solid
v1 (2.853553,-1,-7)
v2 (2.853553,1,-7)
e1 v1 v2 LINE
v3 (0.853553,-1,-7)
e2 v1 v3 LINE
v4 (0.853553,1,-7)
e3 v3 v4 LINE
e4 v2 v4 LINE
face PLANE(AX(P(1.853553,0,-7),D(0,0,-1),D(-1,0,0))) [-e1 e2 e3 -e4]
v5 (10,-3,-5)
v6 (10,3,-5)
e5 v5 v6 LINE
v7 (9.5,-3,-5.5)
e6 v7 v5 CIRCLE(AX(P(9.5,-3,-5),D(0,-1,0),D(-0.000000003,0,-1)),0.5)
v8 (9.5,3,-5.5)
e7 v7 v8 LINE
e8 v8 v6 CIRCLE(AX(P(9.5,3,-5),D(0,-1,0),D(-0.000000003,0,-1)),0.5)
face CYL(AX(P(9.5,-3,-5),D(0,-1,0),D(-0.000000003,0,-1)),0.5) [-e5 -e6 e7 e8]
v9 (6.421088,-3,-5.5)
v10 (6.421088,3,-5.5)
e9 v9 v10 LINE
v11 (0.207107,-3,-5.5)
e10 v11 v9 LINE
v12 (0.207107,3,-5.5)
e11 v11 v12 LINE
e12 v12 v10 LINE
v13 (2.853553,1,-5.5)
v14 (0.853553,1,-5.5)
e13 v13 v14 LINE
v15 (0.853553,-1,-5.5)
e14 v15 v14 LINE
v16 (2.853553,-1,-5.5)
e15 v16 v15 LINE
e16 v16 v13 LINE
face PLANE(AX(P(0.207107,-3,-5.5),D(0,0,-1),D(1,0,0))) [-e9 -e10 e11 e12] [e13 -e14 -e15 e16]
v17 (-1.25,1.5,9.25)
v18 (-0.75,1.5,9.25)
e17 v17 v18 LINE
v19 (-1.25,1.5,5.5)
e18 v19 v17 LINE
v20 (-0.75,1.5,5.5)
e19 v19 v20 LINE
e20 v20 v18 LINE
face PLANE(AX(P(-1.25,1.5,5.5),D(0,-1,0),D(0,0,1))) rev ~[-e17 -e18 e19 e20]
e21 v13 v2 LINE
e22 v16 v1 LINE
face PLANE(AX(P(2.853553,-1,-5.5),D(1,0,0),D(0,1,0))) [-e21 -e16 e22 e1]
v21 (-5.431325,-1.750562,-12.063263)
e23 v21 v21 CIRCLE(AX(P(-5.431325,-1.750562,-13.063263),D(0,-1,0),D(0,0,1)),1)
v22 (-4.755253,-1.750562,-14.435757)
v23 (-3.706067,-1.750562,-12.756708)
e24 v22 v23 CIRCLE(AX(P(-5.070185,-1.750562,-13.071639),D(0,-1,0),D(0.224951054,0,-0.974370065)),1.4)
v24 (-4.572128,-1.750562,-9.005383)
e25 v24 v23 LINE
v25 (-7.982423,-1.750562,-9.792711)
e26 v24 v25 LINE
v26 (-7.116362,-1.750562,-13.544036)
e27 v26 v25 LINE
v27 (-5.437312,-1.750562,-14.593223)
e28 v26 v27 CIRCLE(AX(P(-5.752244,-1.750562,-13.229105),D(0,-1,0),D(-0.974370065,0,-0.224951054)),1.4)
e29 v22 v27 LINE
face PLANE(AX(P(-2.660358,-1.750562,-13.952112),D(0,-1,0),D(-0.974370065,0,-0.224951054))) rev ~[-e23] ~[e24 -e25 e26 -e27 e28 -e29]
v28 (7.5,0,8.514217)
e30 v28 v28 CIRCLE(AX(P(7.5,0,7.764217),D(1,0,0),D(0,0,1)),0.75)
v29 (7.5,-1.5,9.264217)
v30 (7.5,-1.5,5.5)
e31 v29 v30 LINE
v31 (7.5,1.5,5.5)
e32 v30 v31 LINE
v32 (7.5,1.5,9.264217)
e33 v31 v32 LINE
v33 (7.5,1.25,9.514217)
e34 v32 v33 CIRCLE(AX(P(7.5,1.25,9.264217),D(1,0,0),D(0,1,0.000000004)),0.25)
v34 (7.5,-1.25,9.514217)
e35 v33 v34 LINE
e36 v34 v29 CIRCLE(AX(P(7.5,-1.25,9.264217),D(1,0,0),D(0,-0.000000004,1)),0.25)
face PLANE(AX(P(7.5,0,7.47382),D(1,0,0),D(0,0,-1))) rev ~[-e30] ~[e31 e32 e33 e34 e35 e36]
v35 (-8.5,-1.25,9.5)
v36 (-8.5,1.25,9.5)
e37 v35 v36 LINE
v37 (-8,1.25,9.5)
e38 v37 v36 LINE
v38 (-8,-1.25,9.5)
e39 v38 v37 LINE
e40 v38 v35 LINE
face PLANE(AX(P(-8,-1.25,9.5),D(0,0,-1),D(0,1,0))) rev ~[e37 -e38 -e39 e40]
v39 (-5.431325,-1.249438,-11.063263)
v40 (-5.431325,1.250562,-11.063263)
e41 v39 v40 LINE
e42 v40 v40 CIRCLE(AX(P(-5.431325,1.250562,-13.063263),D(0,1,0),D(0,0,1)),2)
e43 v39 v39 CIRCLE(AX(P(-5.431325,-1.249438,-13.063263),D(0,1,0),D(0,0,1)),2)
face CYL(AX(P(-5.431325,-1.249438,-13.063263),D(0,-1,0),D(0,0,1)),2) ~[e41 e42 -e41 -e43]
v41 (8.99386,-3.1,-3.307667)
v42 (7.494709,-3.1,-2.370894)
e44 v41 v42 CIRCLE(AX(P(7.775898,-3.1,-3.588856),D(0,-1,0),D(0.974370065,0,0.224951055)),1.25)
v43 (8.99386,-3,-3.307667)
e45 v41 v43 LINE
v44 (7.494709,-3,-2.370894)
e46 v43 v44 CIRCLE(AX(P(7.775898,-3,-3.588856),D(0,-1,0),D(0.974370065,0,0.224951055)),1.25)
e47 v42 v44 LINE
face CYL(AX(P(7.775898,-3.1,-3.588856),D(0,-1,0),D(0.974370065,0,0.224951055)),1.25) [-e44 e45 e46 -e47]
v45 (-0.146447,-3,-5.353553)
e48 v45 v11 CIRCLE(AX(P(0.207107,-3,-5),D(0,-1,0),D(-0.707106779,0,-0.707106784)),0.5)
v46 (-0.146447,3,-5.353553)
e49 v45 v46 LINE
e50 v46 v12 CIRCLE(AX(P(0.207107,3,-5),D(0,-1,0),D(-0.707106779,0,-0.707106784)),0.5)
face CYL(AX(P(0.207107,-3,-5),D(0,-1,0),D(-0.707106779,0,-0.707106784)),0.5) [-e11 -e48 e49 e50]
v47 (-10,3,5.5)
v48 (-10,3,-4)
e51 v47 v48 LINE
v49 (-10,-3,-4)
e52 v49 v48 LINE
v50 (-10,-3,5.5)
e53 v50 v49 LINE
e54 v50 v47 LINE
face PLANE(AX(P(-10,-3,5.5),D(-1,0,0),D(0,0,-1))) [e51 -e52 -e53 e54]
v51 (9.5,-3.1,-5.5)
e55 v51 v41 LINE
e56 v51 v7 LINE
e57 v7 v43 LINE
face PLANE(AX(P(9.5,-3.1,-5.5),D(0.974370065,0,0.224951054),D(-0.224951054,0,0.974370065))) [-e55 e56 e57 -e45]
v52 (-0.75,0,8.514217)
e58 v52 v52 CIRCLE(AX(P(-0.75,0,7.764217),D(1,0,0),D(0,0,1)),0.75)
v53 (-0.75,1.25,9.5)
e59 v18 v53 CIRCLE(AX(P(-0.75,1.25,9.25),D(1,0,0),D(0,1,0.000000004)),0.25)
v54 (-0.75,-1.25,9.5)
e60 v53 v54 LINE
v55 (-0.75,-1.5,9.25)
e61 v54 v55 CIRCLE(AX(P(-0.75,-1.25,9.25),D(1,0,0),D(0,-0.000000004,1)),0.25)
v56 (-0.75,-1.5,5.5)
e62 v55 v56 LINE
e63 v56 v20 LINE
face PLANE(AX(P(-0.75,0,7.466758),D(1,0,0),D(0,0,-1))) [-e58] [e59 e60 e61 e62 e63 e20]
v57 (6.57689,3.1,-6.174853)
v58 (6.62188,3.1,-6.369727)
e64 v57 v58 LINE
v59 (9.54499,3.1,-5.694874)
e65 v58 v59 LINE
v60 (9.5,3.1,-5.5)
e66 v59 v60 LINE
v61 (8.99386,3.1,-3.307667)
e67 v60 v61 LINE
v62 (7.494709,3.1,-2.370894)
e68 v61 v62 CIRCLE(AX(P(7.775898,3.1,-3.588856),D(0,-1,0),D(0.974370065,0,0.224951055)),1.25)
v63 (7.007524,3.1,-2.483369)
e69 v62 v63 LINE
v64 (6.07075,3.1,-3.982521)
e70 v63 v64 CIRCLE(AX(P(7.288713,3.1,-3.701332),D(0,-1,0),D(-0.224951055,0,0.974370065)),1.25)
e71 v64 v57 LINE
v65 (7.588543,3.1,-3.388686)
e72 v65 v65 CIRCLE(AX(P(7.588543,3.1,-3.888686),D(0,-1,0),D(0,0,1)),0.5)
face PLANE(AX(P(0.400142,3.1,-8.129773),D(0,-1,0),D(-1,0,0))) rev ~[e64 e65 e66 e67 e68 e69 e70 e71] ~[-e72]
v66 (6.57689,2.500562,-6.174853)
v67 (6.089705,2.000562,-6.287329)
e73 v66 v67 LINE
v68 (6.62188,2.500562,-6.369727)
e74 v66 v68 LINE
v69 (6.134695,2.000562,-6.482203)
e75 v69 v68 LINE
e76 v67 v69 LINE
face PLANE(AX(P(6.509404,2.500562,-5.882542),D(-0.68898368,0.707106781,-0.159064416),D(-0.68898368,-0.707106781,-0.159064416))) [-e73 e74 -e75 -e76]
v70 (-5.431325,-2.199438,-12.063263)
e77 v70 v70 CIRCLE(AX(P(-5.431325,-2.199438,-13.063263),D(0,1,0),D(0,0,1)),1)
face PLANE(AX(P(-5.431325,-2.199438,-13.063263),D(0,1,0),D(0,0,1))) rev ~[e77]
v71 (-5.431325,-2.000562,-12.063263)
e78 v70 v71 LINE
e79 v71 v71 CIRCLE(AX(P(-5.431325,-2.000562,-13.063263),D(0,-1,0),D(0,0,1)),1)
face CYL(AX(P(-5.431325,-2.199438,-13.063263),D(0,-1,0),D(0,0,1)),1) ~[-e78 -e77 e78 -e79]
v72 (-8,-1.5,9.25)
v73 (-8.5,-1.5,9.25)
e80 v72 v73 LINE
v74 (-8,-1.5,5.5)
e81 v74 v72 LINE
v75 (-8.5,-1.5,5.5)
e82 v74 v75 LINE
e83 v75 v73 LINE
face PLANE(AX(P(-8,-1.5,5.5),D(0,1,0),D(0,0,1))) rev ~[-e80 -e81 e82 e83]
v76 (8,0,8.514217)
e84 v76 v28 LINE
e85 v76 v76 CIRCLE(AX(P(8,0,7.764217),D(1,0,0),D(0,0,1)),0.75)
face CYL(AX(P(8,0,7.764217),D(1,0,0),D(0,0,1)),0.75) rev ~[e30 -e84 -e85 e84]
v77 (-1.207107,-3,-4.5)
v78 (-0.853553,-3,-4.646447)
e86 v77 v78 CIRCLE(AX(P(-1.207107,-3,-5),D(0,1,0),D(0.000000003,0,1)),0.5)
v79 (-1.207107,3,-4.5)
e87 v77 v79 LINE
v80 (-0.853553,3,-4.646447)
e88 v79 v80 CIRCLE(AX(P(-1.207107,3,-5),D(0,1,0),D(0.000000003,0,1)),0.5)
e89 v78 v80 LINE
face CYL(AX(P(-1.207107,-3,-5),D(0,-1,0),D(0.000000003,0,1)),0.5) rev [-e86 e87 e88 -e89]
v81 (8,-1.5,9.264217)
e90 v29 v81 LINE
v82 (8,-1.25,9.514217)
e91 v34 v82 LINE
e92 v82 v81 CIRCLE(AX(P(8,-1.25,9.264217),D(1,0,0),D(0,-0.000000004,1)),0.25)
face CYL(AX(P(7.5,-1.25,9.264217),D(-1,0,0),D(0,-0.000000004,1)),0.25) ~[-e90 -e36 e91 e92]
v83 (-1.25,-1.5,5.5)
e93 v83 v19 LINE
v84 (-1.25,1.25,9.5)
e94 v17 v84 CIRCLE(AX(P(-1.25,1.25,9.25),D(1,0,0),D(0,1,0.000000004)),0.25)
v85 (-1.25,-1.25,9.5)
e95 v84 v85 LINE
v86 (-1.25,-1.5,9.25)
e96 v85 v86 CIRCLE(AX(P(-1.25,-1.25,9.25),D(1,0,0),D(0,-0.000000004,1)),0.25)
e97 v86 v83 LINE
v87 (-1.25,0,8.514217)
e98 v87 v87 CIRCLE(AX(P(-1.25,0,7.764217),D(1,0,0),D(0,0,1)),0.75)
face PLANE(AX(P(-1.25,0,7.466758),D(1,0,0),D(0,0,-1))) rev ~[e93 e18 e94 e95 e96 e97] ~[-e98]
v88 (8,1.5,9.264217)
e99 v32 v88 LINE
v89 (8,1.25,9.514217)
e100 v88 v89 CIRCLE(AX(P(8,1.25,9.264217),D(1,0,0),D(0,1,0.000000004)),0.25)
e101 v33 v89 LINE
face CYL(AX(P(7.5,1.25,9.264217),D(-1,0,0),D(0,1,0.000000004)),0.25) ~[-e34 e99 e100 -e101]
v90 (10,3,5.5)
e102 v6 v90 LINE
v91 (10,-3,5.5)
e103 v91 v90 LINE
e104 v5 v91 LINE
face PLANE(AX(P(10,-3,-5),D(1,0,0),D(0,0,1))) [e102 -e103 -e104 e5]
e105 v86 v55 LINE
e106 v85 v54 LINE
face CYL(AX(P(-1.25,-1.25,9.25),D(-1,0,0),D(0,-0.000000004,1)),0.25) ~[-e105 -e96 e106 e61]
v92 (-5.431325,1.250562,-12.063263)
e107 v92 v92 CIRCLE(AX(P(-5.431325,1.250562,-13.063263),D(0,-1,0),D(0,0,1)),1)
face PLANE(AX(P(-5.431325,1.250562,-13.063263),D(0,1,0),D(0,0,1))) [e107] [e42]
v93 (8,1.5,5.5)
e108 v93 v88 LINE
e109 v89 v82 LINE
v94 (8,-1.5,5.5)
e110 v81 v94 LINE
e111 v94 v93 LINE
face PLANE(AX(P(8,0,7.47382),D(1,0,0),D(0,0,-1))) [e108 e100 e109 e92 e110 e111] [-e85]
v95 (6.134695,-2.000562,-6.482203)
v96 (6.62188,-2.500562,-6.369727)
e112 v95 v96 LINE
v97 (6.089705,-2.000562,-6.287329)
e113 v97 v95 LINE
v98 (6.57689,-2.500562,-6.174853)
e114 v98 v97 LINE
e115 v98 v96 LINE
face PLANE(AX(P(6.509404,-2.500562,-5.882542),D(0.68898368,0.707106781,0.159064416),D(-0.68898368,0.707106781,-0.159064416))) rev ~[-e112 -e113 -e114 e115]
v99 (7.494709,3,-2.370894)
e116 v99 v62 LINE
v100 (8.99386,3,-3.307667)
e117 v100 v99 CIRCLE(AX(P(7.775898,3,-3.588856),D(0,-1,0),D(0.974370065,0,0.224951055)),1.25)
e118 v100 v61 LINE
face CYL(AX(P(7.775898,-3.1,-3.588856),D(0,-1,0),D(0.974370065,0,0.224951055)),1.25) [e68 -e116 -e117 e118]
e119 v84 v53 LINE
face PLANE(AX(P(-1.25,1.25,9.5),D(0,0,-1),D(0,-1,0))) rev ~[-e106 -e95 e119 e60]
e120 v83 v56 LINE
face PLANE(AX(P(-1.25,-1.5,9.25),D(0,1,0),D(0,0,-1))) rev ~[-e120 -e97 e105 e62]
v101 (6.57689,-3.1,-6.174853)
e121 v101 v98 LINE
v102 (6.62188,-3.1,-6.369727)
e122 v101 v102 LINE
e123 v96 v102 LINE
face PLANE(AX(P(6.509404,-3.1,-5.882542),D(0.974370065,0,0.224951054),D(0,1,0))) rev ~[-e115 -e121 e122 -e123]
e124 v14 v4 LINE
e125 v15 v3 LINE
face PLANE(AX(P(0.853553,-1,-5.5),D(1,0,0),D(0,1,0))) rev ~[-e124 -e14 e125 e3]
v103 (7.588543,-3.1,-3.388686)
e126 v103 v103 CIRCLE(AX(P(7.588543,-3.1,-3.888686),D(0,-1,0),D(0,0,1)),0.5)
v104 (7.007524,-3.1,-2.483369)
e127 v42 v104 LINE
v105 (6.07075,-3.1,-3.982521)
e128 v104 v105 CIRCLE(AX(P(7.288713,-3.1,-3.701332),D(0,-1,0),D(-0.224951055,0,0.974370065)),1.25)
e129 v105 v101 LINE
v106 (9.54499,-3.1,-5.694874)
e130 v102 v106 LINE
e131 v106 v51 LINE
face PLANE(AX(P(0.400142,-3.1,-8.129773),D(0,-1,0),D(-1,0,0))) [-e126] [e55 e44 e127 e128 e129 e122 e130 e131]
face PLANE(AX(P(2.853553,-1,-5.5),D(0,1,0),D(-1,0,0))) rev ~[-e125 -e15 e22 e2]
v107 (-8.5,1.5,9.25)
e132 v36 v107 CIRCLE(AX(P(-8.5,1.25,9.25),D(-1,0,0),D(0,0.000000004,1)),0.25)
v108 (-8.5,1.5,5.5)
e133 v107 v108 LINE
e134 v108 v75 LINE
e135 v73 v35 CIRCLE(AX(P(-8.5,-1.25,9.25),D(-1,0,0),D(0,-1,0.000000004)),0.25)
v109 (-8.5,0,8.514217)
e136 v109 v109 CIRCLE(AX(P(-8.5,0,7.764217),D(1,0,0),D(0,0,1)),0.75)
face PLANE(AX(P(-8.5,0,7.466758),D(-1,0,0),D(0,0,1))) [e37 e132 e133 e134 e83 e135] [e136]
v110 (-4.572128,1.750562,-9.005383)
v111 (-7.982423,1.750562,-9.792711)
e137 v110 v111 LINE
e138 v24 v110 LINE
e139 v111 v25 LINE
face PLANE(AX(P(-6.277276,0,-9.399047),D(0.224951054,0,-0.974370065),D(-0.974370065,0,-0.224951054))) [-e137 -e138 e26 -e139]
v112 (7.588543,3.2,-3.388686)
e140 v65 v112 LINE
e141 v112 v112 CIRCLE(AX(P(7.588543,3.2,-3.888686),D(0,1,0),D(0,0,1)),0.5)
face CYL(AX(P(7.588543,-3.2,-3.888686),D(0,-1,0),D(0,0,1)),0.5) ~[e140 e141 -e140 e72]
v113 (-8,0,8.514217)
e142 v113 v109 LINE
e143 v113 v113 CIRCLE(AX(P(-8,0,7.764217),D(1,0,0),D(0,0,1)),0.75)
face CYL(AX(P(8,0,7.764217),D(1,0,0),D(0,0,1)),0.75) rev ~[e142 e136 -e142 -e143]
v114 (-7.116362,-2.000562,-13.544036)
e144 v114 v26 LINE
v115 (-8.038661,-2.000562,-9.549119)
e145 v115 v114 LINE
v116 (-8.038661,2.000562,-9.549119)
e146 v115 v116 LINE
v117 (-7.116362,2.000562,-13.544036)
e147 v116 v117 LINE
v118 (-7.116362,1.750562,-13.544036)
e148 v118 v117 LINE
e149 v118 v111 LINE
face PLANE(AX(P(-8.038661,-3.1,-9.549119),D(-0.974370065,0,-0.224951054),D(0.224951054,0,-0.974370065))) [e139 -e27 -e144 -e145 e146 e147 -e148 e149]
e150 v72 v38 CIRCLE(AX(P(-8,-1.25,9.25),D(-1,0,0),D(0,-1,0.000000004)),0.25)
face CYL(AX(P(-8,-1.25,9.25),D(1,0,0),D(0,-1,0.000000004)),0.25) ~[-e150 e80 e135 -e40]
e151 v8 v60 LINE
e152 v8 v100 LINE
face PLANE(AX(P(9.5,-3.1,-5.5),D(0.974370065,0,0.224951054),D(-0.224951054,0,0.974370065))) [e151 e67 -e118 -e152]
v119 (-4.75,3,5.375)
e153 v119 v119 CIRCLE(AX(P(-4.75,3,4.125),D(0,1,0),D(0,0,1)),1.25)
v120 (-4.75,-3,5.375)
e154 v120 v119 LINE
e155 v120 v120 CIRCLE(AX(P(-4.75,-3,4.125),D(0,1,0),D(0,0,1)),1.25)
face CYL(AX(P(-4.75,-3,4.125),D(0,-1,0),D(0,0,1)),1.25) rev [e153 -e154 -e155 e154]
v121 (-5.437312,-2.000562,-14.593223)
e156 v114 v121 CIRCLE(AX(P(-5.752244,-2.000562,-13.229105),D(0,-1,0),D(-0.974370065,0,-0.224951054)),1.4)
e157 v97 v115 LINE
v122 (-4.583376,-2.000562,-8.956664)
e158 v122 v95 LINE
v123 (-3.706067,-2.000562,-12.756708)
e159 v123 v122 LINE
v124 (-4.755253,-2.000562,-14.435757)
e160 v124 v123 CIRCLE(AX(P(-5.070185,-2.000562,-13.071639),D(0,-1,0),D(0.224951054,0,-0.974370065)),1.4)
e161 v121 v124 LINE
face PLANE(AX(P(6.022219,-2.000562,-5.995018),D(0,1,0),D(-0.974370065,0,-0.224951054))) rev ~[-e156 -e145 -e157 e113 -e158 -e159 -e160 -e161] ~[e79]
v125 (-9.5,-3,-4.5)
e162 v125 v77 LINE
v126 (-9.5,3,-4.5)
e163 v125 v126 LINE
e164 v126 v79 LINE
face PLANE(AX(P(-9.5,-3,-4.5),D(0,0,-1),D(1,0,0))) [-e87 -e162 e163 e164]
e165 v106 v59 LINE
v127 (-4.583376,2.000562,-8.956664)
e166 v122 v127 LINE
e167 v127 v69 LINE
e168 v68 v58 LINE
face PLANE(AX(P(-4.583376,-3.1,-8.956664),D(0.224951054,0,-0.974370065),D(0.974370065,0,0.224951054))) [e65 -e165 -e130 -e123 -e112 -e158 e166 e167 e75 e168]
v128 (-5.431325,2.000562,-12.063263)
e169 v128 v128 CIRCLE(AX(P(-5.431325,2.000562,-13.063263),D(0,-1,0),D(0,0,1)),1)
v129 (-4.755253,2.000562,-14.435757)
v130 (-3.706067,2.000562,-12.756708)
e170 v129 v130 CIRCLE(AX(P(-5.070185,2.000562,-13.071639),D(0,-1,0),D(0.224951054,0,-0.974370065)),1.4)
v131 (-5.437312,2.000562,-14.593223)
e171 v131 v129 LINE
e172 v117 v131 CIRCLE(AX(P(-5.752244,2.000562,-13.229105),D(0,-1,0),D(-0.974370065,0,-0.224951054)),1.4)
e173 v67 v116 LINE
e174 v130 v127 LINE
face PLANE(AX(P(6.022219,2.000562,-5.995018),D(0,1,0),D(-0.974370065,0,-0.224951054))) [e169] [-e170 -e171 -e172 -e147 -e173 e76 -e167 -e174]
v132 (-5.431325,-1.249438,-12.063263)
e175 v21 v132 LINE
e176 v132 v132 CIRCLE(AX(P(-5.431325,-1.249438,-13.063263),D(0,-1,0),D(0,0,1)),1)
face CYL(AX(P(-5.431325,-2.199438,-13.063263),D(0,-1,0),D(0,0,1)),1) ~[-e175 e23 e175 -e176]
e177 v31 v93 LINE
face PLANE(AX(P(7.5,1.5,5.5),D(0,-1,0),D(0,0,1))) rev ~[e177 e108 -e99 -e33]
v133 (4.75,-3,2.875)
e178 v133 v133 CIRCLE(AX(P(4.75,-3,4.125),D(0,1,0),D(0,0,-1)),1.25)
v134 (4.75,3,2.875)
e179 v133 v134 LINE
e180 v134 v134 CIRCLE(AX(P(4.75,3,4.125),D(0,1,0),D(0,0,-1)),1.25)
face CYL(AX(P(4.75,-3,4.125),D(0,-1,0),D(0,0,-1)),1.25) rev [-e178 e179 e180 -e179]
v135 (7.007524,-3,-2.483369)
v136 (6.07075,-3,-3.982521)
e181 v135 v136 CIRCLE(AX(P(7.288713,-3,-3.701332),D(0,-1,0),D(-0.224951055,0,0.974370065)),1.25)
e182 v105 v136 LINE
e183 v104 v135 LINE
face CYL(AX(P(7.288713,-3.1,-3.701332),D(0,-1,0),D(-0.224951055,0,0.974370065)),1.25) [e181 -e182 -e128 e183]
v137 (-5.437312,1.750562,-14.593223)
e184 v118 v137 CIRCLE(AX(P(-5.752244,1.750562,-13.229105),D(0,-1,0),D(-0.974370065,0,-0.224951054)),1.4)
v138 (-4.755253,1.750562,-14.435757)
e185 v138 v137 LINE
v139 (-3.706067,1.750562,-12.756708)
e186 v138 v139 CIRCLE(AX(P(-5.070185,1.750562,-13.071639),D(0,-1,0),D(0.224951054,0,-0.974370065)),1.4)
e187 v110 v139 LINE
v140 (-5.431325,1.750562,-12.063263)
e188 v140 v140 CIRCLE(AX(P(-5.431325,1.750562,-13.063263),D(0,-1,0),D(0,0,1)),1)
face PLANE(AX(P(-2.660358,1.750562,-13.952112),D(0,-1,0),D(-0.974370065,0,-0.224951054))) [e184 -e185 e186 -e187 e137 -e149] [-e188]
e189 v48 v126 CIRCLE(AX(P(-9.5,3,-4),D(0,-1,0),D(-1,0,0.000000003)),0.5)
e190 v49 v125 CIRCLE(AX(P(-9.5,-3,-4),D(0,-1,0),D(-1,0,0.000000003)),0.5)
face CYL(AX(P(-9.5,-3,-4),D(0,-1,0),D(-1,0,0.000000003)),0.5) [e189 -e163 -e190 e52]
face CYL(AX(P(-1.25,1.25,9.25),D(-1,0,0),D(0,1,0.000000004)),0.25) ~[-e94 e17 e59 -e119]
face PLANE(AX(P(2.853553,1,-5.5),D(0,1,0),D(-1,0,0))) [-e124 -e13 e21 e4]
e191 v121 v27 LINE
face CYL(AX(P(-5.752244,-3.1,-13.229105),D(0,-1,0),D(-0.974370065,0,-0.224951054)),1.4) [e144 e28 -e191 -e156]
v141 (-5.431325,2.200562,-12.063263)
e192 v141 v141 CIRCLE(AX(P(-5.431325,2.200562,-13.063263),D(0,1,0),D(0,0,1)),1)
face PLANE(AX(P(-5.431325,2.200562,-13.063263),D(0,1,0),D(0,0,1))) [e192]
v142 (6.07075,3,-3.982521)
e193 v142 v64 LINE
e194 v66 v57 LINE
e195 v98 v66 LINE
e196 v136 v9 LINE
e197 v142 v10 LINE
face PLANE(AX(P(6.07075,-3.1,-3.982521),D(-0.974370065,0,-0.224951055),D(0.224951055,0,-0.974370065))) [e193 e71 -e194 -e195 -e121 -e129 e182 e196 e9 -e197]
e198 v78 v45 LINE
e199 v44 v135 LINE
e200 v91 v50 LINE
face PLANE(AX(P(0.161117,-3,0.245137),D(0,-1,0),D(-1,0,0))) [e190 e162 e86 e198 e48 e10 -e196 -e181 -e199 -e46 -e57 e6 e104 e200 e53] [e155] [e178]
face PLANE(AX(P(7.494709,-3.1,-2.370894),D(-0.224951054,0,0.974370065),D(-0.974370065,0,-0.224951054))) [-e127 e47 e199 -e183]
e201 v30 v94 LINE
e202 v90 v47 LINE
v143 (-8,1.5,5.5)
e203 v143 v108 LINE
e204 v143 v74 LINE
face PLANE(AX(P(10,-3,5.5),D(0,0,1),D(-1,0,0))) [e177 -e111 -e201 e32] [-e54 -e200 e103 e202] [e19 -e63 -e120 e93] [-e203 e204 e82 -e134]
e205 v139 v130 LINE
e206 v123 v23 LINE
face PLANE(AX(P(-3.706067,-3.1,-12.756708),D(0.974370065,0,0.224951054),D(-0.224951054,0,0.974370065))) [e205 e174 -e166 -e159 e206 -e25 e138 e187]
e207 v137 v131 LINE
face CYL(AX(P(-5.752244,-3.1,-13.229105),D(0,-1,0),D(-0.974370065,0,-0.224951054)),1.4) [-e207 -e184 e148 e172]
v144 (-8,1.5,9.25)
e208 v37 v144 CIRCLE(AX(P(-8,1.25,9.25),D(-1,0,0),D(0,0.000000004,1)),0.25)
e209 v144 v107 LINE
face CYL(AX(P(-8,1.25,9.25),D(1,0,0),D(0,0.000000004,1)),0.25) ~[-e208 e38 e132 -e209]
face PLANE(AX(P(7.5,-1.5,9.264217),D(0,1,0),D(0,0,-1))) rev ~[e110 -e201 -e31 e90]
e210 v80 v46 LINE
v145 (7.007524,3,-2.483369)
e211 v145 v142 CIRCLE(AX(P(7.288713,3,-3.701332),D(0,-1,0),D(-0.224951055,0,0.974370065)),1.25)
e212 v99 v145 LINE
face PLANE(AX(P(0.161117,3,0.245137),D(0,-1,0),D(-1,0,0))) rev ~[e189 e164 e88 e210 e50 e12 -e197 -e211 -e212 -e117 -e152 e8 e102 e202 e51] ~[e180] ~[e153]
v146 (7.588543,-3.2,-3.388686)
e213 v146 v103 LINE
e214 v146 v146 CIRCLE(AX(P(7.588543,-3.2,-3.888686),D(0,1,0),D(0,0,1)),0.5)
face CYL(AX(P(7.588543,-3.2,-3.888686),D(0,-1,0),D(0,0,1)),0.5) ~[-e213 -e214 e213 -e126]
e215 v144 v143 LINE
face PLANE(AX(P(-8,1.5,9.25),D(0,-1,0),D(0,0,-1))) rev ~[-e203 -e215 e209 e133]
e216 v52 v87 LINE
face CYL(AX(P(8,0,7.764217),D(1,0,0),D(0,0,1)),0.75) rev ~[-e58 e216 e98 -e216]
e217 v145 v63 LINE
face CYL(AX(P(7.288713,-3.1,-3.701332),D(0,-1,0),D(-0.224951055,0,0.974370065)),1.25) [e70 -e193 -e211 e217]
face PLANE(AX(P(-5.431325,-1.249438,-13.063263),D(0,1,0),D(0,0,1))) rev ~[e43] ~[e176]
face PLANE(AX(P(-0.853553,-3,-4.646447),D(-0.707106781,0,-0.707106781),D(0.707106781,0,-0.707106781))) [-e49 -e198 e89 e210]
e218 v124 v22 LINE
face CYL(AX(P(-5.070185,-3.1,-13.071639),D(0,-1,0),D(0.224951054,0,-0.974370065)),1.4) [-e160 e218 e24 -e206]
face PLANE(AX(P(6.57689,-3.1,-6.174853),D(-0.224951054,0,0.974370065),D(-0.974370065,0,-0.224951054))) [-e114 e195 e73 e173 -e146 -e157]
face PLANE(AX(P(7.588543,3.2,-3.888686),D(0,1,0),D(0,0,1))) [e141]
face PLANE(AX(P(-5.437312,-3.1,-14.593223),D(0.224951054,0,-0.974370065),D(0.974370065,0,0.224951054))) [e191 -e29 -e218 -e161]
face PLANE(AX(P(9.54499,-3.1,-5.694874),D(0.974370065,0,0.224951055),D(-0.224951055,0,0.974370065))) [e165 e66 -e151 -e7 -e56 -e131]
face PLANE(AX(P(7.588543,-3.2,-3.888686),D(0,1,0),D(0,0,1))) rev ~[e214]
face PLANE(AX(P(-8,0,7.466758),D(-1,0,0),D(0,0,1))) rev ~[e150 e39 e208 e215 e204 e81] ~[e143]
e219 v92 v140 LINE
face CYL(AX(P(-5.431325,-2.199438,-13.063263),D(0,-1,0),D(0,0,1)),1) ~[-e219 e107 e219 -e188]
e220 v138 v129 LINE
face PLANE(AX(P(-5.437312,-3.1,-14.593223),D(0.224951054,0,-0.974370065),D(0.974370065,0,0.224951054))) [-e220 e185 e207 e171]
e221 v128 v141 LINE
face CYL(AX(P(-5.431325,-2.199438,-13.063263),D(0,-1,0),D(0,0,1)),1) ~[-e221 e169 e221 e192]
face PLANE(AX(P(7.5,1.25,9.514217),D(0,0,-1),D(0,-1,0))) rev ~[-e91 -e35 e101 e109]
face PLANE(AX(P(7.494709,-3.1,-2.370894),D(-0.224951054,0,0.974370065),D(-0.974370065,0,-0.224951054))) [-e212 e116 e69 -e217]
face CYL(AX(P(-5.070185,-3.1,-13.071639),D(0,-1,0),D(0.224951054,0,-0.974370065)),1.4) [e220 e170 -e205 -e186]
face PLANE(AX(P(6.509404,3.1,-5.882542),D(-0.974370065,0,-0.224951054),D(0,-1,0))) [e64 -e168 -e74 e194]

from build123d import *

# Parameters (mm, degrees)
Y_KSEKLIK_EKSTR_ZYON1_DEPTH       = 3
Y_KSEKLIK_EKSTR_ZYON1_DEPTH_BACK  = 3
IZIM1_R                           = 1.25
IZIM2_W                           = 2
IZIM2_H                           = 2
Y_KSEKLIK_EKSTR_ZYON2_DEPTH       = 1.5
Y_KSEKLIK_EKSTR_ZYON6_DEPTH       = 3.1
Y_KSEKLIK_EKSTR_ZYON6_DEPTH_BACK  = 3.1
KES_EKSTR_ZYON1_DEPTH             = 6
KES_EKSTR_ZYON1_DEPTH_BACK        = 0.5
IZIM5_W                           = 5
IZIM5_H                           = 3.50112481
KES_EKSTR_ZYON2_DEPTH             = 5.25
Y_KSEKLIK_EKSTR_ZYON7_DEPTH       = 1.25
Y_KSEKLIK_EKSTR_ZYON7_DEPTH_BACK  = 1.25
IZIM6_R                           = 2
Y_KSEKLIK_EKSTR_ZYON8_DEPTH       = 2.2
Y_KSEKLIK_EKSTR_ZYON8_DEPTH_BACK  = 2.2
IZIM7_R                           = 1
Y_KSEKLIK_EKSTR_ZYON9_DEPTH       = 0.25
Y_KSEKLIK_EKSTR_ZYON9_DEPTH_BACK  = 0.25
Y_KSEKLIK_EKSTR_ZYON10_DEPTH      = 0.25
Y_KSEKLIK_EKSTR_ZYON10_DEPTH_BACK = 0.25
Y_KSEKLIK_EKSTR_ZYON11_DEPTH      = 0.25
Y_KSEKLIK_EKSTR_ZYON11_DEPTH_BACK = 0.25
KES_EKSTR_ZYON3_REACH             = 25.675
IZIM11_R                          = 0.75
Y_KSEKLIK_EKSTR_ZYON13_DEPTH      = 3.2
Y_KSEKLIK_EKSTR_ZYON13_DEPTH_BACK = 3.2
IZIM13_R                          = 0.5


with BuildPart() as part:
    # Çizim1 → Yükseklik-Ekstrüzyon1 (new, two sides: drawn at the far end of the back side and taken through both)
    with BuildSketch(Plane(origin=(0, 0, 0), x_dir=(1, 0, 0), z_dir=(0, 1, 0)).offset(-Y_KSEKLIK_EKSTR_ZYON1_DEPTH_BACK)):
        with BuildLine():
            Line((0.207106781, 5.5), (9.5, 5.5))
            ThreePointArc((9.5, 5.5), (9.853553391, 5.353553391), (10, 5))
            Line((10, 5), (10, -5.5))
            Line((10, -5.5), (-10, -5.5))
            Line((-10, -5.5), (-10, 4))
            ThreePointArc((-10, 4), (-9.853553391, 4.353553391), (-9.5, 4.5))
            Line((-9.5, 4.5), (-1.207106781, 4.5))
            ThreePointArc((-1.207106781, 4.5), (-1.015765065, 4.538060234), (-0.853553391, 4.646446609))
            Line((-0.853553391, 4.646446609), (-0.146446609, 5.353553391))
            ThreePointArc((-0.146446609, 5.353553391), (0.015765065, 5.461939766), (0.207106781, 5.5))
        make_face()
        with Locations(Location((-4.75, -4.125, 0), (0, 0, 270))):
            Circle(IZIM1_R, mode=Mode.SUBTRACT)
        with Locations(Location((4.75, -4.125, 0), (0, 0, 90))):
            Circle(IZIM1_R, mode=Mode.SUBTRACT)
    extrude(amount=Y_KSEKLIK_EKSTR_ZYON1_DEPTH + Y_KSEKLIK_EKSTR_ZYON1_DEPTH_BACK)

    # Çizim2 → Yükseklik-Ekstrüzyon2 (add)
    with BuildSketch(Plane(origin=(0, 0, -5.5), x_dir=(-1, 0, 0), z_dir=(0, 0, -1))):
        with Locations((-1.853553391, 0)):
            Rectangle(IZIM2_W, IZIM2_H)
    extrude(amount=Y_KSEKLIK_EKSTR_ZYON2_DEPTH)

    # Çizim3 → Yükseklik-Ekstrüzyon6 (add, two sides: drawn at the far end of the back side and taken through both)
    with BuildSketch(Plane(origin=(0, 0, 0), x_dir=(1, 0, 0), z_dir=(0, 1, 0)).offset(-Y_KSEKLIK_EKSTR_ZYON6_DEPTH_BACK)):
        with BuildLine():
            Line((9.5, 5.5), (8.993860128, 3.307667354))
            ThreePointArc((8.993860128, 3.307667354), (8.438296627, 2.528796052), (7.494708729, 2.370893591))
            Line((7.494708729, 2.370893591), (7.007523696, 2.483369118))
            ThreePointArc((7.007523696, 2.483369118), (6.228652394, 3.038932619), (6.070749933, 3.982520517))
            Line((6.070749933, 3.982520517), (6.576889806, 6.174853163))
            Line((6.576889806, 6.174853163), (-8.038661166, 9.549118978))
            Line((-8.038661166, 9.549118978), (-7.116361843, 13.544036244))
            ThreePointArc((-7.116361843, 13.544036244), (-6.494130723, 14.416372102), (-5.437312277, 14.593222858))
            Line((-5.437312277, 14.593222858), (-4.755253231, 14.43575712))
            ThreePointArc((-4.755253231, 14.43575712), (-3.882917373, 13.813526), (-3.706066617, 12.756707554))
            Line((-3.706066617, 12.756707554), (-4.583375729, 8.956664301))
            Line((-4.583375729, 8.956664301), (9.544990211, 5.694874013))
            Line((9.544990211, 5.694874013), (9.5, 5.5))
        make_face()
    extrude(amount=Y_KSEKLIK_EKSTR_ZYON6_DEPTH + Y_KSEKLIK_EKSTR_ZYON6_DEPTH_BACK)

    # Çizim4 → Kes-Ekstrüzyon1 (cut, two sides: drawn at the far end of the back side and taken through both)
    with BuildSketch(Plane(origin=(1.731239145, 0, -7.498820588), x_dir=(-0.9743700647852337, 0, -0.2249510543438719), z_dir=(0.22495105434387186, 0, -0.9743700647852336)).offset(-KES_EKSTR_ZYON1_DEPTH_BACK)):
        Polygon((-5.019284817, 2.500562405), (-4.519284817, 2.000562405), (10.019957698, 2.000562405), (10.019957698, 3.1), (-5.019284817, 3.1), align=None)
        Polygon((-4.519284817, -2.000562405), (10.019957698, -2.000562405), (10.019957698, -3.1), (-5.019284817, -3.1), (-5.019284817, -2.500562405), align=None)
    extrude(amount=KES_EKSTR_ZYON1_DEPTH + KES_EKSTR_ZYON1_DEPTH_BACK, mode=Mode.SUBTRACT)

    # Çizim5 → Kes-Ekstrüzyon2 (cut)
    with BuildSketch(Plane(origin=(2.923479733, 0, -12.662981931), x_dir=(-0.9743700647852332, 0, -0.2249510543438736), z_dir=(0.2249510543438736, 0, -0.9743700647852332))):
        with Locations((8.230715183, 0)):
            Rectangle(IZIM5_W, IZIM5_H)
    extrude(amount=-KES_EKSTR_ZYON2_DEPTH, mode=Mode.SUBTRACT)



with BuildPart() as body_2:
    # Çizim6 → Yükseklik-Ekstrüzyon7 (new, two sides: drawn at the far end of the back side and taken through both)
    with BuildSketch(Plane(origin=(0, 0.000562405, 0), x_dir=(1, 0, 0), z_dir=(0, 1, 0)).offset(-Y_KSEKLIK_EKSTR_ZYON7_DEPTH_BACK)):
        with Locations(Location((-5.431324974, 13.063262696, 0), (0, 0, 270))):
            Circle(IZIM6_R)
    extrude(amount=Y_KSEKLIK_EKSTR_ZYON7_DEPTH + Y_KSEKLIK_EKSTR_ZYON7_DEPTH_BACK)


with BuildPart() as part_1:
    add(part.part)

    add(body_2.part)  # Yükseklik-Ekstrüzyon8 merges body 2
    # Çizim7 → Yükseklik-Ekstrüzyon8 (add, two sides: drawn at the far end of the back side and taken through both)
    with BuildSketch(Plane(origin=(0, 0.000562405, 0), x_dir=(1, 0, 0), z_dir=(0, 1, 0)).offset(-Y_KSEKLIK_EKSTR_ZYON8_DEPTH_BACK)):
        with Locations(Location((-5.431324974, 13.063262696, 0), (0, 0, 270))):
            Circle(IZIM7_R)
    extrude(amount=Y_KSEKLIK_EKSTR_ZYON8_DEPTH + Y_KSEKLIK_EKSTR_ZYON8_DEPTH_BACK)

    # Çizim8 → Yükseklik-Ekstrüzyon9 (add, two sides: drawn at the far end of the back side and taken through both)
    with BuildSketch(Plane.ZY.offset(8.25).offset(-Y_KSEKLIK_EKSTR_ZYON9_DEPTH_BACK)):
        with BuildLine():
            Line((5.5, 1.5), (5.5, -1.5))
            Line((5.5, -1.5), (9.25, -1.5))
            ThreePointArc((9.25, -1.5), (9.426776695, -1.426776695), (9.5, -1.25))
            Line((9.5, -1.25), (9.5, 1.25))
            ThreePointArc((9.5, 1.25), (9.426776695, 1.426776695), (9.25, 1.5))
            Line((9.25, 1.5), (5.5, 1.5))
        make_face()
    extrude(amount=Y_KSEKLIK_EKSTR_ZYON9_DEPTH + Y_KSEKLIK_EKSTR_ZYON9_DEPTH_BACK)

    # Çizim9 → Yükseklik-Ekstrüzyon10 (add, two sides: drawn at the far end of the back side and taken through both)
    with BuildSketch(Plane(origin=(7.75, 0, 0), x_dir=(0, 0, -1), z_dir=(1, 0, 0)).offset(-Y_KSEKLIK_EKSTR_ZYON10_DEPTH_BACK)):
        with BuildLine():
            Line((-5.5, 1.5), (-9.264217475, 1.5))
            ThreePointArc((-9.264217475, 1.5), (-9.44099417, 1.426776695), (-9.514217475, 1.25))
            Line((-9.514217475, 1.25), (-9.514217475, -1.25))
            ThreePointArc((-9.514217475, -1.25), (-9.44099417, -1.426776695), (-9.264217475, -1.5))
            Line((-9.264217475, -1.5), (-5.5, -1.5))
            Line((-5.5, -1.5), (-5.5, 1.5))
        make_face()
    extrude(amount=Y_KSEKLIK_EKSTR_ZYON10_DEPTH + Y_KSEKLIK_EKSTR_ZYON10_DEPTH_BACK)

    # Çizim10 → Yükseklik-Ekstrüzyon11 (add, two sides: drawn at the far end of the back side and taken through both)
    with BuildSketch(Plane(origin=(-1, 0, 0), x_dir=(0, 0, -1), z_dir=(1, 0, 0)).offset(-Y_KSEKLIK_EKSTR_ZYON11_DEPTH_BACK)):
        with BuildLine():
            Line((-5.5, 1.5), (-9.25, 1.5))
            ThreePointArc((-9.25, 1.5), (-9.426776695, 1.426776695), (-9.5, 1.25))
            Line((-9.5, 1.25), (-9.5, -1.25))
            ThreePointArc((-9.5, -1.25), (-9.426776695, -1.426776695), (-9.25, -1.5))
            Line((-9.25, -1.5), (-5.5, -1.5))
            Line((-5.5, -1.5), (-5.5, 1.5))
        make_face()
    extrude(amount=Y_KSEKLIK_EKSTR_ZYON11_DEPTH + Y_KSEKLIK_EKSTR_ZYON11_DEPTH_BACK)

    # Kes-Ekstrüzyon3: up to this face of the body (flat: up to its plane)
    kes_ekstr_zyon3_end = Plane(part_1.part.faces().sort_by_distance((-10, 0, 0.75))[0])
    # Çizim11 → Kes-Ekstrüzyon3 (cut, up to the picked face)
    with BuildSketch(Plane(origin=(8, 0, 0), x_dir=(0, 0, -1), z_dir=(1, 0, 0)), mode=Mode.PRIVATE) as kes_ekstr_zyon3_sk1:
        with Locations(Location((-7.764217475, 0, 0), (0, 0, 180))):
            Circle(IZIM11_R)
    kes_ekstr_zyon3_tool1 = split(extrude(kes_ekstr_zyon3_sk1.sketch, amount=-KES_EKSTR_ZYON3_REACH, mode=Mode.PRIVATE), bisect_by=kes_ekstr_zyon3_end, keep=Keep.BOTH, mode=Mode.PRIVATE)
    add(kes_ekstr_zyon3_tool1.solids().sort_by(Axis((8, 0, 7.764217), (-1, 0, 0)))[0], mode=Mode.SUBTRACT)

    # Çizim13 → Yükseklik-Ekstrüzyon13 (add, two sides: drawn at the far end of the back side and taken through both)
    with BuildSketch(Plane(origin=(0, 0, 0), x_dir=(1, 0, 0), z_dir=(0, 1, 0)).offset(-Y_KSEKLIK_EKSTR_ZYON13_DEPTH_BACK)):
        with Locations(Location((7.588542794, 3.888686452, 0), (0, 0, 270))):
            Circle(IZIM13_R)
    extrude(amount=Y_KSEKLIK_EKSTR_ZYON13_DEPTH + Y_KSEKLIK_EKSTR_ZYON13_DEPTH_BACK)


solid = part_1.part
